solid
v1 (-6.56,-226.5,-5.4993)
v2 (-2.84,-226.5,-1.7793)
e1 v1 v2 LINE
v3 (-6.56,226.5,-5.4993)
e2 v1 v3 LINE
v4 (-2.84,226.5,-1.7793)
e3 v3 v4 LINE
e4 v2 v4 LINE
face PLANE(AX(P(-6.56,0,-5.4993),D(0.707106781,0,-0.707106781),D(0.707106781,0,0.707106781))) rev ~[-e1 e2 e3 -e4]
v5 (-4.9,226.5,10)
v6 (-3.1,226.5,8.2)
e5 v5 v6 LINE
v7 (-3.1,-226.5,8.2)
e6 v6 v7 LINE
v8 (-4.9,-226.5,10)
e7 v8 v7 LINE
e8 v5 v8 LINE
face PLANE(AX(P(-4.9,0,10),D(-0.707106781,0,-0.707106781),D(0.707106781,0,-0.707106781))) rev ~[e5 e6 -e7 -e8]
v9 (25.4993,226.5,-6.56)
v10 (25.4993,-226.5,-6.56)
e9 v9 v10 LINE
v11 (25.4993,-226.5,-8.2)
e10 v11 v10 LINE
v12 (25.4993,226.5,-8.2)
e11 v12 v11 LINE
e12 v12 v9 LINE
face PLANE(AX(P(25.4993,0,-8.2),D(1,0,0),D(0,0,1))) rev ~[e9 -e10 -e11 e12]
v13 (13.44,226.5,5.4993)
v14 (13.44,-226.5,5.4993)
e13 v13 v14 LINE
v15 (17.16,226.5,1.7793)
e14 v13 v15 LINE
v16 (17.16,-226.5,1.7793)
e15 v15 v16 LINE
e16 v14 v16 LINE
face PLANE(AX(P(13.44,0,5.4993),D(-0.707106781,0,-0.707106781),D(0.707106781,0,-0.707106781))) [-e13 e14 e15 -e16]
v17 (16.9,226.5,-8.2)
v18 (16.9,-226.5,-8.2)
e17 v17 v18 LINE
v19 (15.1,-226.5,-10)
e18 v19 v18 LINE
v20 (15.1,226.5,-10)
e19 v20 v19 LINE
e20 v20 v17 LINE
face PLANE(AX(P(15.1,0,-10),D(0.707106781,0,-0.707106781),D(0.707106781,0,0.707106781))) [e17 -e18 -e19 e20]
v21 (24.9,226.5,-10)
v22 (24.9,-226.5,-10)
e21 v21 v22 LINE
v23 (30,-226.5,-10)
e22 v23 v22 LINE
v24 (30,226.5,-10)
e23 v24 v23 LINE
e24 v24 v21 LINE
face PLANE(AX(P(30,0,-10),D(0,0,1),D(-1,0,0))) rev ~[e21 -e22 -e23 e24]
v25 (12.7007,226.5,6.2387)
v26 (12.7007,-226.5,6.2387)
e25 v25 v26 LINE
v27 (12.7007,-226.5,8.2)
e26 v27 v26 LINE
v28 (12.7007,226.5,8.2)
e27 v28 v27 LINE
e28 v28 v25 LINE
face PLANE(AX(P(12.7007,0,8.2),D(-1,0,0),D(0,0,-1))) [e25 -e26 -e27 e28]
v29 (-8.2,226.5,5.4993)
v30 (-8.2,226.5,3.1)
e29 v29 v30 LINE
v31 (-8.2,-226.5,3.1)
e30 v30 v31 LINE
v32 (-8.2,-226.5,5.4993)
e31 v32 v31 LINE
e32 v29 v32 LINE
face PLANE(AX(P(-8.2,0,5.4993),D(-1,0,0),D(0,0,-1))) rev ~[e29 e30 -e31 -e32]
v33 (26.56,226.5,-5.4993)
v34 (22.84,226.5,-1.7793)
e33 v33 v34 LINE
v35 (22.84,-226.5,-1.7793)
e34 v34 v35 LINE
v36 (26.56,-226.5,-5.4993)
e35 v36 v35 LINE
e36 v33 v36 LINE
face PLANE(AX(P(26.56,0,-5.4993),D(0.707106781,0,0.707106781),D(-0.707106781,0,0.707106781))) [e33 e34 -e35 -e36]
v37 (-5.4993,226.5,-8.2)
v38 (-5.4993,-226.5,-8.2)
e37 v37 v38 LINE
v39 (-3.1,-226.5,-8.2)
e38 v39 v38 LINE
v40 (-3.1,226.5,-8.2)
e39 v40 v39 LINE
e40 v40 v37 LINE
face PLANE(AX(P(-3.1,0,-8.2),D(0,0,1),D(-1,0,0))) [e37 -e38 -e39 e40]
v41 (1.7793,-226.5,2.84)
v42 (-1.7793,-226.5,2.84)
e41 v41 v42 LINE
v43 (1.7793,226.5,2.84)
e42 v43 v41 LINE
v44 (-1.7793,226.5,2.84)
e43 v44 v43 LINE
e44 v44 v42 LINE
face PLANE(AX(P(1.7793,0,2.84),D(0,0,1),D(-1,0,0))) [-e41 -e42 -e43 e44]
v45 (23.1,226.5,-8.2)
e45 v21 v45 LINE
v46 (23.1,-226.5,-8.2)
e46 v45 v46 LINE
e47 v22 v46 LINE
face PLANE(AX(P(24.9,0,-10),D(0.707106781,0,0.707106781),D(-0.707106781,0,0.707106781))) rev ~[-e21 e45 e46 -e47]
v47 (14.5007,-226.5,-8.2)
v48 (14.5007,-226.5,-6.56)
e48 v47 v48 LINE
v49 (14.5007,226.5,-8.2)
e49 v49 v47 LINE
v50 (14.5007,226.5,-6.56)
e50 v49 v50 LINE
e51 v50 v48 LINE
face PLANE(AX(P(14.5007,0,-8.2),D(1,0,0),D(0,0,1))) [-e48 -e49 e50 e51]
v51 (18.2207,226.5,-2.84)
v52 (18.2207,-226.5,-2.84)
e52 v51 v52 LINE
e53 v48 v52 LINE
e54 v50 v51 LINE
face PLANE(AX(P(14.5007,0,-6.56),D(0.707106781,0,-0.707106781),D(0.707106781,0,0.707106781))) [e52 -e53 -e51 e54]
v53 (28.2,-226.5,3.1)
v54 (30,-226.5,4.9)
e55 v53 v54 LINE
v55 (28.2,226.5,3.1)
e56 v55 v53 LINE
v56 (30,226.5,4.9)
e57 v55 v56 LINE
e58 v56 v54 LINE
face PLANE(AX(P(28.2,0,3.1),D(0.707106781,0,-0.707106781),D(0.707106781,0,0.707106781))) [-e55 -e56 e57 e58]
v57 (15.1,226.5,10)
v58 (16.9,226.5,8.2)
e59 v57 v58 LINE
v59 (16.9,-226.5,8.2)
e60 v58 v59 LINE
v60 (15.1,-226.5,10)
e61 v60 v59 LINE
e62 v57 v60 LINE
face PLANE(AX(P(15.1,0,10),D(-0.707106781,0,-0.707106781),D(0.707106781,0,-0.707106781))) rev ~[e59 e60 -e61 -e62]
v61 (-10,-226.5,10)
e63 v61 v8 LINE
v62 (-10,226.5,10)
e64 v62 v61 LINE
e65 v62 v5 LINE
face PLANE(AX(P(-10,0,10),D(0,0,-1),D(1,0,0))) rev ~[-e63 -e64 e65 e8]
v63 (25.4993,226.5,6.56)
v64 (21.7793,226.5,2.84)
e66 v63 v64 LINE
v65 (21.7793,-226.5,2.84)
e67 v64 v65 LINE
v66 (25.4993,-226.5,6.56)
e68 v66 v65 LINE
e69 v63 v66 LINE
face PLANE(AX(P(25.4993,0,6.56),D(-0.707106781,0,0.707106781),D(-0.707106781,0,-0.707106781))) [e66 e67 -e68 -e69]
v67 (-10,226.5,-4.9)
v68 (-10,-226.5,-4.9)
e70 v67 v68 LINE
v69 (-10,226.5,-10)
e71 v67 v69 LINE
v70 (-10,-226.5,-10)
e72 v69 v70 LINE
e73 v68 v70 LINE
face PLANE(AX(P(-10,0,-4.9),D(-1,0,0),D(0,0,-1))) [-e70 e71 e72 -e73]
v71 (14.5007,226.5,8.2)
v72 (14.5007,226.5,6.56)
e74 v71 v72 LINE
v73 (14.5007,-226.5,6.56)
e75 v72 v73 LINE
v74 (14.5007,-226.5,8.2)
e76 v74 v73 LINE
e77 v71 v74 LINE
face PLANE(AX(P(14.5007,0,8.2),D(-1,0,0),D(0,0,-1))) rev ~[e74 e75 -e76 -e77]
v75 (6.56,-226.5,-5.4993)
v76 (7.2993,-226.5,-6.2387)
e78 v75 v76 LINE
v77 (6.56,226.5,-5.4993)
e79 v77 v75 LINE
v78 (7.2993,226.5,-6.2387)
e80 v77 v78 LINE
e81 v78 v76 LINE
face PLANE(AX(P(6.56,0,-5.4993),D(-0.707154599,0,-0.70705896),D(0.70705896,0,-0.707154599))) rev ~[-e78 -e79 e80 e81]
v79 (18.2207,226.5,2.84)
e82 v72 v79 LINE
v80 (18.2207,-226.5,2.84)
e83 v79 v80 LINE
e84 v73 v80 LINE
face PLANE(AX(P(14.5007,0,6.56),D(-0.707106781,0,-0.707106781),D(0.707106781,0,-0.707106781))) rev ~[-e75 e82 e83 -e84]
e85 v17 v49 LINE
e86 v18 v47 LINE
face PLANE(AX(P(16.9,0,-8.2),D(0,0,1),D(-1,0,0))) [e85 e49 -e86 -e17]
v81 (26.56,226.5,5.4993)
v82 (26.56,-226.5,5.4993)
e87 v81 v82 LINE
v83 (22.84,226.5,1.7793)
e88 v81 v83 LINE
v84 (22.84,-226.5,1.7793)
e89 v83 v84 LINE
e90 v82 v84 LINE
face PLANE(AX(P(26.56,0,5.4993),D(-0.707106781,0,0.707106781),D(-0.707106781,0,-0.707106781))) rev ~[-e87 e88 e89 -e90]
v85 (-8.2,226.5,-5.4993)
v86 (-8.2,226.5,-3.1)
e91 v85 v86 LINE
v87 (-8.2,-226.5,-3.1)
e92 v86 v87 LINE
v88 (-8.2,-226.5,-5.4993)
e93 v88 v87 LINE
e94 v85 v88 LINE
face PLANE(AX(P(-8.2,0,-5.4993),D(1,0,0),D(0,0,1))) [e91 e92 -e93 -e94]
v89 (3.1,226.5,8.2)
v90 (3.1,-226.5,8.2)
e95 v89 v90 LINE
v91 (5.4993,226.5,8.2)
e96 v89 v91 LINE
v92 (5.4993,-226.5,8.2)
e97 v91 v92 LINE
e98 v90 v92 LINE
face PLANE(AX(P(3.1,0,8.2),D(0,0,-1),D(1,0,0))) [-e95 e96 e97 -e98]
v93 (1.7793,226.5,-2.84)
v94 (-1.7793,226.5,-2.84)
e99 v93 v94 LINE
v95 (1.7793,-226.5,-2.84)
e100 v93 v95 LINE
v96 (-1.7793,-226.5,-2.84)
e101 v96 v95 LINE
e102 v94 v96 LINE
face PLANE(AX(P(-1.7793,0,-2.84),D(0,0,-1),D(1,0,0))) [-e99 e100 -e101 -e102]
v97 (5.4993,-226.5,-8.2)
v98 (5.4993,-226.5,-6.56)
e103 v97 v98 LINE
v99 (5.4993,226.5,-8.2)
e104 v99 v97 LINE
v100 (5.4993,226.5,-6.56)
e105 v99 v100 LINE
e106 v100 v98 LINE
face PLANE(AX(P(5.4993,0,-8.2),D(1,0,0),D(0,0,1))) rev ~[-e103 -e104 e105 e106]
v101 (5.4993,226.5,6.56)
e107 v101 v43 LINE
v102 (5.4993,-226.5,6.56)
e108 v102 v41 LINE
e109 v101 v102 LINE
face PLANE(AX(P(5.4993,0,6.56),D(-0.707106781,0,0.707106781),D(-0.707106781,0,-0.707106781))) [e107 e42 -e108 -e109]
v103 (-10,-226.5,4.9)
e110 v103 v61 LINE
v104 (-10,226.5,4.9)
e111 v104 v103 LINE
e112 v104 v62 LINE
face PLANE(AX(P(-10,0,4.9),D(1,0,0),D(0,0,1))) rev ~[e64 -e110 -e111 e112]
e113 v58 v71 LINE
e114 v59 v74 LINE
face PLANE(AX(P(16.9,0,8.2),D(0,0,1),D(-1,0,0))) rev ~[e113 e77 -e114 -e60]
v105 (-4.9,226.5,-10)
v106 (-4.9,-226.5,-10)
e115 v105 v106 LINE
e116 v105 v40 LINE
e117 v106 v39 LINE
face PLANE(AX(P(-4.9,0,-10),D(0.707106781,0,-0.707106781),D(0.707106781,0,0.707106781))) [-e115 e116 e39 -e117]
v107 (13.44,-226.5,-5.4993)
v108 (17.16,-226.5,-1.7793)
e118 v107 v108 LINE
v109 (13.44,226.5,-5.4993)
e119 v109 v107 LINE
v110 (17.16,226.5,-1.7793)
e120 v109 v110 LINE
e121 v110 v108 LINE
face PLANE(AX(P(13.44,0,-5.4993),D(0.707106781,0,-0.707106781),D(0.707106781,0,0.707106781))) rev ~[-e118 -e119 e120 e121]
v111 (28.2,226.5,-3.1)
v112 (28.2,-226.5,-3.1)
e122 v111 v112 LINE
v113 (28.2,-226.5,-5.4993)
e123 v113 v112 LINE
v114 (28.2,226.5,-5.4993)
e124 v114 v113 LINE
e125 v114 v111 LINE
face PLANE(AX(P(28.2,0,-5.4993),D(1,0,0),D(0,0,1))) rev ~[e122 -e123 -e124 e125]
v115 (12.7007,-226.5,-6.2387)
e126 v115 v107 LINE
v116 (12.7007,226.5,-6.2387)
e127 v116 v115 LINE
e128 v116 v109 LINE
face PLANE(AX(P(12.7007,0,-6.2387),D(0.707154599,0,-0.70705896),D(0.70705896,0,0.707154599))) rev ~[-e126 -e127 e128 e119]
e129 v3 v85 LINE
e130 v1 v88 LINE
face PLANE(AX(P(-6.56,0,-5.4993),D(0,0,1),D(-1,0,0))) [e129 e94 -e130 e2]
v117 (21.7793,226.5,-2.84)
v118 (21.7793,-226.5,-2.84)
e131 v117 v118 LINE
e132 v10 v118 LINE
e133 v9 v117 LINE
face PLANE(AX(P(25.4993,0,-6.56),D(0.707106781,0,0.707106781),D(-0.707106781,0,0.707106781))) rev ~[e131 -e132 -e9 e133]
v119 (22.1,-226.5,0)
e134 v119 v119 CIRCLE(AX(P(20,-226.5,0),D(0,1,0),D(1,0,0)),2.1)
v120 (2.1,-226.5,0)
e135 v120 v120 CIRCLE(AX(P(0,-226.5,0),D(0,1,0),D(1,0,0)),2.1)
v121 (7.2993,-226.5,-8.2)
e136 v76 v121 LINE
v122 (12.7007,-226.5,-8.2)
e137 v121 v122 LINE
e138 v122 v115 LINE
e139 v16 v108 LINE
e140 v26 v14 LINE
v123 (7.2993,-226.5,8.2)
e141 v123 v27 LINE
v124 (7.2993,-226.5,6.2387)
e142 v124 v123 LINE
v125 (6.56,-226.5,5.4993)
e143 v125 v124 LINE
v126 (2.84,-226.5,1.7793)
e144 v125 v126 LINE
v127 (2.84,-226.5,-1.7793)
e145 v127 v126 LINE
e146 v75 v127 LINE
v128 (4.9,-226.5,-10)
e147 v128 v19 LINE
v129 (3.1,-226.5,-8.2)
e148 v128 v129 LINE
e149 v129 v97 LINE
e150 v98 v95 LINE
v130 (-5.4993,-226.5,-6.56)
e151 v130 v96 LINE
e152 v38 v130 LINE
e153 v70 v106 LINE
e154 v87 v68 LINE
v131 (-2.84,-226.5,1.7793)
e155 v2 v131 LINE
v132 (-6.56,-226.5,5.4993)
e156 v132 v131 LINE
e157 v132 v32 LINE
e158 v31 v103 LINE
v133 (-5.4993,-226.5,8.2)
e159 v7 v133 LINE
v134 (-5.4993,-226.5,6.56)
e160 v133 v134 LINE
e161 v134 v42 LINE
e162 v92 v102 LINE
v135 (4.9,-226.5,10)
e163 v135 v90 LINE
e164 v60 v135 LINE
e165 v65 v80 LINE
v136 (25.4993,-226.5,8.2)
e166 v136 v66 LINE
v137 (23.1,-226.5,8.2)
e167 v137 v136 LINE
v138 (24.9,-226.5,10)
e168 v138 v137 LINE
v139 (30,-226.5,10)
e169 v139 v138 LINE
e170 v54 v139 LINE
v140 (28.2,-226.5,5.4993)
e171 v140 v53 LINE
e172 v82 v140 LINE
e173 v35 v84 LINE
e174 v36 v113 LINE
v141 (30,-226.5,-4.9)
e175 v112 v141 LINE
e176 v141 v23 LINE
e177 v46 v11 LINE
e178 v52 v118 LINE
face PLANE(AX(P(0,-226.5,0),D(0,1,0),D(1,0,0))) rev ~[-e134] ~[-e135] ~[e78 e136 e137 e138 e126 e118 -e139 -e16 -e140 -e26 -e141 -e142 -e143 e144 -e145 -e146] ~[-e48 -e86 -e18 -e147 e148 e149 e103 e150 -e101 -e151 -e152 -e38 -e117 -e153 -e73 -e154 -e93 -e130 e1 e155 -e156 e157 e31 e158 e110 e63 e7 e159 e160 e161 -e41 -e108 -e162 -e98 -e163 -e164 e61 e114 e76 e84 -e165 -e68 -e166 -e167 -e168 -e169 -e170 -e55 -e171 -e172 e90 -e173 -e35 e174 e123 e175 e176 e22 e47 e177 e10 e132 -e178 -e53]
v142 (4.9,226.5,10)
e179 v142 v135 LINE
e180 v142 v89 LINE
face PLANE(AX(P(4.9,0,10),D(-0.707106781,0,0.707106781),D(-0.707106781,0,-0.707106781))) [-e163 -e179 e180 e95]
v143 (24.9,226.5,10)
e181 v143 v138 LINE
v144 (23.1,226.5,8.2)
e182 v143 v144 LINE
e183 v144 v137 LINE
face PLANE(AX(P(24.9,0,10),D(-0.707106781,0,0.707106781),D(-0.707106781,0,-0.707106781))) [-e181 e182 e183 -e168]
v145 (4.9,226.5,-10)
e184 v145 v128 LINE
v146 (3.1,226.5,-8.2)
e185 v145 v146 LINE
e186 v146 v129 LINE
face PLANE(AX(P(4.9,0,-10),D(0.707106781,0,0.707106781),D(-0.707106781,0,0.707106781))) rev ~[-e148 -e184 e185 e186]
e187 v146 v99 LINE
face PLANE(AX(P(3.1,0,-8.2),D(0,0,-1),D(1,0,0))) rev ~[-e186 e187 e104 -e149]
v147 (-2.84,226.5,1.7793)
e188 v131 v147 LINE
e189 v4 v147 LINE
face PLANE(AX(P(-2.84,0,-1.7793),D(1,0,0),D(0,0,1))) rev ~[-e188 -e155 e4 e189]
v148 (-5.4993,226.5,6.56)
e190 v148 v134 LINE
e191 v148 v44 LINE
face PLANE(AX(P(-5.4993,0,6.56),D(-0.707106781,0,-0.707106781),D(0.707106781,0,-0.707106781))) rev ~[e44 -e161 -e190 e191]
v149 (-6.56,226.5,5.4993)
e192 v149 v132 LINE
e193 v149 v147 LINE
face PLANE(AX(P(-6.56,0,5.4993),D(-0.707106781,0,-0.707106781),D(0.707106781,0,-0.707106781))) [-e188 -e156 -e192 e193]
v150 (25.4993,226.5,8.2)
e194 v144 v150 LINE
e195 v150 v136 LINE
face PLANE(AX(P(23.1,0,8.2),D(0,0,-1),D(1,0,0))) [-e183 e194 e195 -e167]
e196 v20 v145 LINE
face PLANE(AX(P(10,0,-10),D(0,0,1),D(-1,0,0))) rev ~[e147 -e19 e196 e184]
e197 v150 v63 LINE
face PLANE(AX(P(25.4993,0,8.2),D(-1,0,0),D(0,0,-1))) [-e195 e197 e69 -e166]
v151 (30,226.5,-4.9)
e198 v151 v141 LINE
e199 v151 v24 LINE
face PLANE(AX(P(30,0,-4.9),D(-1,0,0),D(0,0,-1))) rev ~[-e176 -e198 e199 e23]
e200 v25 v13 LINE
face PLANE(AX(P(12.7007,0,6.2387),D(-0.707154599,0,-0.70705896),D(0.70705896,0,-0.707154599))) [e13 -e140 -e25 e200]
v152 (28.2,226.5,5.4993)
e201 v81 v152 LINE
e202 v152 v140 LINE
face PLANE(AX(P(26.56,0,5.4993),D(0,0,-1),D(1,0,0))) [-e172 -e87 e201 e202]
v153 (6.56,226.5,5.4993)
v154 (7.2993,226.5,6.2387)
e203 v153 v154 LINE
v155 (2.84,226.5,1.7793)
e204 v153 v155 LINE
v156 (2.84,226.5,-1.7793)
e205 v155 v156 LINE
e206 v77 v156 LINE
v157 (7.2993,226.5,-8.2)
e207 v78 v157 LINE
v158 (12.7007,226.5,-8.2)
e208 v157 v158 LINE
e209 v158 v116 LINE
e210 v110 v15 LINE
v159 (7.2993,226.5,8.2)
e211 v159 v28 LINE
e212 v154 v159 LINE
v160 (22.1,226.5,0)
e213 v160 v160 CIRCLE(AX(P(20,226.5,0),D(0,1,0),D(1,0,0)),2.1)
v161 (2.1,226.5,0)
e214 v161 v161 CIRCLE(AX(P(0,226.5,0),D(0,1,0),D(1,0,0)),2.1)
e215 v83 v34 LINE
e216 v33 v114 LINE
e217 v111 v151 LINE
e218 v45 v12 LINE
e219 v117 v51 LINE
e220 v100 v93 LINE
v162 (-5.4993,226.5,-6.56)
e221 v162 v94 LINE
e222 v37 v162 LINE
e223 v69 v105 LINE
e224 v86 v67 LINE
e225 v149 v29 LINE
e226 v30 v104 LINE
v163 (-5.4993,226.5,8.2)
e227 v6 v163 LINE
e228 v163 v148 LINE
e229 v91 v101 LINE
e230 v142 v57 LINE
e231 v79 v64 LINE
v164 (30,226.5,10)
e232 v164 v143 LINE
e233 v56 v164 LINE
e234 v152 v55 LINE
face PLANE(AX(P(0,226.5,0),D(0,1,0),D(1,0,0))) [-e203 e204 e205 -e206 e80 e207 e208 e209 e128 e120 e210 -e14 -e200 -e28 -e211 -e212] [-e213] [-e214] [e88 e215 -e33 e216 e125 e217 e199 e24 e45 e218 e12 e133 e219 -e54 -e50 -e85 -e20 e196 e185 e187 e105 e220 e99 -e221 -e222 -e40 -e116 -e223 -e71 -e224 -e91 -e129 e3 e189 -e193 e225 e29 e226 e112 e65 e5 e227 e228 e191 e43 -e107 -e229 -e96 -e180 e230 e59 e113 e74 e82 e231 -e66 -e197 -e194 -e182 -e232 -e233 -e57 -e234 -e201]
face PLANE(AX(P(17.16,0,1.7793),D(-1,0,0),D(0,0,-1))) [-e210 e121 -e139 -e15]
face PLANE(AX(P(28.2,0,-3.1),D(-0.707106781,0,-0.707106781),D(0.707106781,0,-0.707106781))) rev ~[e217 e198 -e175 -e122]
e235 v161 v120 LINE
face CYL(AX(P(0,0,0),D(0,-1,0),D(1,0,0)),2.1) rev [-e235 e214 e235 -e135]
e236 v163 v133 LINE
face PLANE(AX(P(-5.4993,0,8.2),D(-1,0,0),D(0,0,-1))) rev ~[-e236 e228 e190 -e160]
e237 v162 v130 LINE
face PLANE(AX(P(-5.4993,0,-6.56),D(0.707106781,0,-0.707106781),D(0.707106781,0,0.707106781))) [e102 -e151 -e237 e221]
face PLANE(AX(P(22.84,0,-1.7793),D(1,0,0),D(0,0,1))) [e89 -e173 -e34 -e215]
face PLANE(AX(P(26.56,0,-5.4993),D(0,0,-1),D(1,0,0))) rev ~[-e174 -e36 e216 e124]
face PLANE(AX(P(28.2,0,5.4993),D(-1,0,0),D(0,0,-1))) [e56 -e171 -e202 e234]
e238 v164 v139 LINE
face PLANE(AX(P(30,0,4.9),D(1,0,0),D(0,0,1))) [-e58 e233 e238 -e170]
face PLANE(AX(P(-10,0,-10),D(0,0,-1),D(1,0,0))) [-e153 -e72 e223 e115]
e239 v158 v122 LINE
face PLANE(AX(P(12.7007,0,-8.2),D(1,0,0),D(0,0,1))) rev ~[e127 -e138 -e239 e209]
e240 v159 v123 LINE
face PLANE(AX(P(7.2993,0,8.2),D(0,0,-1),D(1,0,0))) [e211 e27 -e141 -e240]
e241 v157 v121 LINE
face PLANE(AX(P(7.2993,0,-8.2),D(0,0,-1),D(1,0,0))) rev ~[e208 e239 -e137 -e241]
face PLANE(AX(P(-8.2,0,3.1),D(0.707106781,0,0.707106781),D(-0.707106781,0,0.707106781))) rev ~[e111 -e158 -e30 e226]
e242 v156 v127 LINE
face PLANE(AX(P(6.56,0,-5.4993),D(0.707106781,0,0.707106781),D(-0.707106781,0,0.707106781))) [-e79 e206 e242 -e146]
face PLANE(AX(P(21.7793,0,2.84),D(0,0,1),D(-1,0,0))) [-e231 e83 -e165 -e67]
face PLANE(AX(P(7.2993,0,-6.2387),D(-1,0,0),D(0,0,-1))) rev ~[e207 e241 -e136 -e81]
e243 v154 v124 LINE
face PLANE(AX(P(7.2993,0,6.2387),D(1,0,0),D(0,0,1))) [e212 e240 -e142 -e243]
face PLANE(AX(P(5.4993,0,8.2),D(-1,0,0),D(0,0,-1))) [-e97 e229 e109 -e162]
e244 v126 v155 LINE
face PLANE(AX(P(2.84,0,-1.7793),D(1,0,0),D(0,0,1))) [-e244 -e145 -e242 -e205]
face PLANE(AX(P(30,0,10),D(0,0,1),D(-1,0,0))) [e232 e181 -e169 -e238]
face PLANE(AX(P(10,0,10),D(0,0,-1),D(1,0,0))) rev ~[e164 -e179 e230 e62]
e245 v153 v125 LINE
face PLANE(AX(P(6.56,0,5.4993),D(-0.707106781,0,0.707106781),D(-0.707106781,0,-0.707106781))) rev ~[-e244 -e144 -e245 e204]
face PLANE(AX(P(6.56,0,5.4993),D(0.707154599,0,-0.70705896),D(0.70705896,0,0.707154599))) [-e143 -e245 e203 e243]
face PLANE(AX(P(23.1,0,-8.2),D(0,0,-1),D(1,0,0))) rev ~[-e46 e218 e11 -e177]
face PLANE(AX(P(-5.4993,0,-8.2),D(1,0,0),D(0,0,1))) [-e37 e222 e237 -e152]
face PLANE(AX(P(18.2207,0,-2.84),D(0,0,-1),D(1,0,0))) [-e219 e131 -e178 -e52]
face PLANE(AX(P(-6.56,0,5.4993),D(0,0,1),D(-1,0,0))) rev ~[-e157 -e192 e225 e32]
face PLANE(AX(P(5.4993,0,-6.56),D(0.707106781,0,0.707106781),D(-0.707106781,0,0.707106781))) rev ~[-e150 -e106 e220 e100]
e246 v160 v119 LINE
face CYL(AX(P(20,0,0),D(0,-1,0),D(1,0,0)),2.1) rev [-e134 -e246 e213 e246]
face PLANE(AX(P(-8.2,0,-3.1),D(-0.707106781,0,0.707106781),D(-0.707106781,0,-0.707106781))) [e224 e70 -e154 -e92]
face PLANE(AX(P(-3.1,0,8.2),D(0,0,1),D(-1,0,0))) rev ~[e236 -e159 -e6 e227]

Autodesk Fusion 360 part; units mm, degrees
sketch "Sketch1" plane through (0, 0, 0) normal (0, 1, 0) x (1, 0, 0)
  circle A0 centre (0, 0) radius 2.1
  line L0 (-6.56, 5.4993) -> (-8.2, 5.4993)
  line L1 (-8.2, 5.4993) -> (-8.2, 3.1)
  line L2 (-8.2, 3.1) -> (-10, 4.9)
  line L3 (-10, 4.9) -> (-10, 10)
  line L4 (-10, 10) -> (-4.9, 10)
  line L5 (-4.9, 10) -> (-3.1, 8.2)
  line L6 (-3.1, 8.2) -> (-5.4993, 8.2)
  line L7 (-5.4993, 8.2) -> (-5.4993, 6.56)
  line L8 (-5.4993, 6.56) -> (-1.7793, 2.84)
  line L9 (-6.56, 5.4993) -> (-2.84, 1.7793)
  line L10 (0, 0) -> (-10, 10) construction
  line L11 (0, 0) -> (0, 5) construction
  line L12 (0, 0) -> (-5, 0) construction
  line L13 (-2.84, 1.7793) -> (-2.84, 0)
  line L14 (-1.7793, 2.84) -> (0, 2.84)
  line L15 (-8.2, -3.1) -> (-10, -4.9)
  line L16 (-6.56, -5.4993) -> (-8.2, -5.4993)
  line L17 (-10, -4.9) -> (-10, -10)
  line L18 (-4.9, -10) -> (-3.1, -8.2)
  line L19 (-5.4993, -6.56) -> (-1.7793, -2.84)
  line L20 (-6.56, -5.4993) -> (-2.84, -1.7793)
  line L21 (-1.7793, -2.84) -> (0, -2.84)
  line L22 (-3.1, -8.2) -> (-5.4993, -8.2)
  line L23 (-8.2, -5.4993) -> (-8.2, -3.1)
  line L24 (-10, -10) -> (-4.9, -10)
  line L25 (-5.4993, -8.2) -> (-5.4993, -6.56)
  line L26 (-2.84, -1.7793) -> (-2.84, 0)
  line L27 (4.9, 10) -> (3.1, 8.2)
  line L28 (2.84, -1.7793) -> (2.84, 0)
  line L29 (6.56, -5.4993) -> (2.84, -1.7793)
  line L30 (1.7793, 2.84) -> (0, 2.84)
  line L31 (5.4993, -8.2) -> (5.4993, -6.56)
  line L32 (5.4993, -6.56) -> (1.7793, -2.84)
  line L33 (10, 10) -> (4.9, 10)
  line L34 (2.84, 1.7793) -> (2.84, 0)
  line L35 (3.1, 8.2) -> (5.4993, 8.2)
  line L36 (10, -10) -> (4.9, -10)
  line L37 (1.7793, -2.84) -> (0, -2.84)
  line L38 (5.4993, 6.56) -> (1.7793, 2.84)
  line L39 (4.9, -10) -> (3.1, -8.2)
  line L40 (6.56, 5.4993) -> (2.84, 1.7793)
  line L41 (5.4993, 8.2) -> (5.4993, 6.56)
  line L42 (3.1, -8.2) -> (5.4993, -8.2)
  line L43 (10, -4.9) -> (10, 4.9) construction
  line L44 (20, 0) -> (30, 10) construction
  line L45 (26.56, -5.4993) -> (28.2, -5.4993)
  line L46 (23.1, 8.2) -> (25.4993, 8.2)
  line L47 (30, 4.9) -> (30, 10)
  line L48 (26.56, 5.4993) -> (22.84, 1.7793)
  line L49 (22.84, -1.7793) -> (22.84, 0)
  line L50 (30, -4.9) -> (30, -10)
  line L51 (25.4993, -8.2) -> (25.4993, -6.56)
  line L52 (23.1, -8.2) -> (25.4993, -8.2)
  line L53 (28.2, 5.4993) -> (28.2, 3.1)
  line L54 (28.2, 3.1) -> (30, 4.9)
  line L55 (20, 0) -> (20, 5) construction
  line L56 (20, 0) -> (25, 0) construction
  line L57 (30, -10) -> (24.9, -10)
  line L58 (26.56, -5.4993) -> (22.84, -1.7793)
  line L59 (24.9, -10) -> (23.1, -8.2)
  line L60 (25.4993, 8.2) -> (25.4993, 6.56)
  line L61 (28.2, -3.1) -> (30, -4.9)
  line L62 (22.84, 1.7793) -> (22.84, 0)
  line L63 (28.2, -5.4993) -> (28.2, -3.1)
  line L64 (10, -10) -> (15.1, -10)
  line L65 (16.9, 8.2) -> (14.5007, 8.2)
  line L66 (18.2207, 2.84) -> (20, 2.84)
  line L67 (14.5007, -6.56) -> (18.2207, -2.84)
  line L68 (15.1, 10) -> (16.9, 8.2)
  line L69 (13.44, 5.4993) -> (17.16, 1.7793)
  line L70 (18.2207, -2.84) -> (20, -2.84)
  line L71 (17.16, 1.7793) -> (17.16, 0)
  line L72 (15.1, -10) -> (16.9, -8.2)
  line L73 (14.5007, 6.56) -> (18.2207, 2.84)
  line L74 (17.16, -1.7793) -> (17.16, 0)
  line L75 (21.7793, 2.84) -> (20, 2.84)
  line L76 (30, 10) -> (24.9, 10)
  line L77 (26.56, 5.4993) -> (28.2, 5.4993)
  line L78 (24.9, 10) -> (23.1, 8.2)
  line L79 (25.4993, -6.56) -> (21.7793, -2.84)
  line L80 (14.5007, 8.2) -> (14.5007, 6.56)
  line L81 (10, 10) -> (15.1, 10)
  circle A1 centre (20, 0) radius 2.1
  line L82 (14.5007, -8.2) -> (14.5007, -6.56)
  line L83 (21.7793, -2.84) -> (20, -2.84)
  line L84 (16.9, -8.2) -> (14.5007, -8.2)
  line L85 (25.4993, 6.56) -> (21.7793, 2.84)
  line L86 (13.44, -5.4993) -> (17.16, -1.7793)
  line L87 (6.56, 5.4993) -> (7.2993, 6.2387)
  line L88 (7.2993, 6.2387) -> (7.2993, 8.2)
  line L89 (7.2993, 8.2) -> (12.7007, 8.2)
  line L90 (12.7007, 8.2) -> (12.7007, 6.2387)
  line L91 (12.7007, 6.2387) -> (13.44, 5.4993)
  line L92 (6.56, -5.4993) -> (7.2993, -6.2387)
  line L93 (7.2993, -6.2387) -> (7.2993, -8.2)
  line L94 (7.2993, -8.2) -> (12.7007, -8.2)
  line L95 (12.7007, -8.2) -> (12.7007, -6.2387)
  line L96 (12.7007, -6.2387) -> (13.44, -5.4993)
  point P0 (5, 0)
  point P1 (15, 0)
  point P2 (20, 0)
  point P3 (20, 0)
  dimension "d1" = 4.2
  dimension "d2" = 10
  dimension "d3" = 10
  dimension "d4" = 3.1
  dimension "d5" = 1.8
  dimension "d6" = 0
  dimension "d7" = 1.5
  dimension "d8" = 1.64
  dimension "d9" = 135
  dimension "d10" = 0
  dimension "d11" = 2.84
  dimension "d12" = 0
  dimension "d13" = 0
  dimension "d14" = 20
  dimension "d15" = 0
  dimension "d16" = 0
extrude "Extrude1" add sketch "Sketch1" along normal mid plane 453
equation "d4 = ( 6.2 / 2 ) * 1 mm"
equation "d6 = d10"
equation "d10 = d9"
equation "d11 = ( 5.68 / 2 ) * 1 mm"
equation "d12 = d19"
equation "d13 = d13"
equation "d15 = d10"
equation "d16 = d29"
